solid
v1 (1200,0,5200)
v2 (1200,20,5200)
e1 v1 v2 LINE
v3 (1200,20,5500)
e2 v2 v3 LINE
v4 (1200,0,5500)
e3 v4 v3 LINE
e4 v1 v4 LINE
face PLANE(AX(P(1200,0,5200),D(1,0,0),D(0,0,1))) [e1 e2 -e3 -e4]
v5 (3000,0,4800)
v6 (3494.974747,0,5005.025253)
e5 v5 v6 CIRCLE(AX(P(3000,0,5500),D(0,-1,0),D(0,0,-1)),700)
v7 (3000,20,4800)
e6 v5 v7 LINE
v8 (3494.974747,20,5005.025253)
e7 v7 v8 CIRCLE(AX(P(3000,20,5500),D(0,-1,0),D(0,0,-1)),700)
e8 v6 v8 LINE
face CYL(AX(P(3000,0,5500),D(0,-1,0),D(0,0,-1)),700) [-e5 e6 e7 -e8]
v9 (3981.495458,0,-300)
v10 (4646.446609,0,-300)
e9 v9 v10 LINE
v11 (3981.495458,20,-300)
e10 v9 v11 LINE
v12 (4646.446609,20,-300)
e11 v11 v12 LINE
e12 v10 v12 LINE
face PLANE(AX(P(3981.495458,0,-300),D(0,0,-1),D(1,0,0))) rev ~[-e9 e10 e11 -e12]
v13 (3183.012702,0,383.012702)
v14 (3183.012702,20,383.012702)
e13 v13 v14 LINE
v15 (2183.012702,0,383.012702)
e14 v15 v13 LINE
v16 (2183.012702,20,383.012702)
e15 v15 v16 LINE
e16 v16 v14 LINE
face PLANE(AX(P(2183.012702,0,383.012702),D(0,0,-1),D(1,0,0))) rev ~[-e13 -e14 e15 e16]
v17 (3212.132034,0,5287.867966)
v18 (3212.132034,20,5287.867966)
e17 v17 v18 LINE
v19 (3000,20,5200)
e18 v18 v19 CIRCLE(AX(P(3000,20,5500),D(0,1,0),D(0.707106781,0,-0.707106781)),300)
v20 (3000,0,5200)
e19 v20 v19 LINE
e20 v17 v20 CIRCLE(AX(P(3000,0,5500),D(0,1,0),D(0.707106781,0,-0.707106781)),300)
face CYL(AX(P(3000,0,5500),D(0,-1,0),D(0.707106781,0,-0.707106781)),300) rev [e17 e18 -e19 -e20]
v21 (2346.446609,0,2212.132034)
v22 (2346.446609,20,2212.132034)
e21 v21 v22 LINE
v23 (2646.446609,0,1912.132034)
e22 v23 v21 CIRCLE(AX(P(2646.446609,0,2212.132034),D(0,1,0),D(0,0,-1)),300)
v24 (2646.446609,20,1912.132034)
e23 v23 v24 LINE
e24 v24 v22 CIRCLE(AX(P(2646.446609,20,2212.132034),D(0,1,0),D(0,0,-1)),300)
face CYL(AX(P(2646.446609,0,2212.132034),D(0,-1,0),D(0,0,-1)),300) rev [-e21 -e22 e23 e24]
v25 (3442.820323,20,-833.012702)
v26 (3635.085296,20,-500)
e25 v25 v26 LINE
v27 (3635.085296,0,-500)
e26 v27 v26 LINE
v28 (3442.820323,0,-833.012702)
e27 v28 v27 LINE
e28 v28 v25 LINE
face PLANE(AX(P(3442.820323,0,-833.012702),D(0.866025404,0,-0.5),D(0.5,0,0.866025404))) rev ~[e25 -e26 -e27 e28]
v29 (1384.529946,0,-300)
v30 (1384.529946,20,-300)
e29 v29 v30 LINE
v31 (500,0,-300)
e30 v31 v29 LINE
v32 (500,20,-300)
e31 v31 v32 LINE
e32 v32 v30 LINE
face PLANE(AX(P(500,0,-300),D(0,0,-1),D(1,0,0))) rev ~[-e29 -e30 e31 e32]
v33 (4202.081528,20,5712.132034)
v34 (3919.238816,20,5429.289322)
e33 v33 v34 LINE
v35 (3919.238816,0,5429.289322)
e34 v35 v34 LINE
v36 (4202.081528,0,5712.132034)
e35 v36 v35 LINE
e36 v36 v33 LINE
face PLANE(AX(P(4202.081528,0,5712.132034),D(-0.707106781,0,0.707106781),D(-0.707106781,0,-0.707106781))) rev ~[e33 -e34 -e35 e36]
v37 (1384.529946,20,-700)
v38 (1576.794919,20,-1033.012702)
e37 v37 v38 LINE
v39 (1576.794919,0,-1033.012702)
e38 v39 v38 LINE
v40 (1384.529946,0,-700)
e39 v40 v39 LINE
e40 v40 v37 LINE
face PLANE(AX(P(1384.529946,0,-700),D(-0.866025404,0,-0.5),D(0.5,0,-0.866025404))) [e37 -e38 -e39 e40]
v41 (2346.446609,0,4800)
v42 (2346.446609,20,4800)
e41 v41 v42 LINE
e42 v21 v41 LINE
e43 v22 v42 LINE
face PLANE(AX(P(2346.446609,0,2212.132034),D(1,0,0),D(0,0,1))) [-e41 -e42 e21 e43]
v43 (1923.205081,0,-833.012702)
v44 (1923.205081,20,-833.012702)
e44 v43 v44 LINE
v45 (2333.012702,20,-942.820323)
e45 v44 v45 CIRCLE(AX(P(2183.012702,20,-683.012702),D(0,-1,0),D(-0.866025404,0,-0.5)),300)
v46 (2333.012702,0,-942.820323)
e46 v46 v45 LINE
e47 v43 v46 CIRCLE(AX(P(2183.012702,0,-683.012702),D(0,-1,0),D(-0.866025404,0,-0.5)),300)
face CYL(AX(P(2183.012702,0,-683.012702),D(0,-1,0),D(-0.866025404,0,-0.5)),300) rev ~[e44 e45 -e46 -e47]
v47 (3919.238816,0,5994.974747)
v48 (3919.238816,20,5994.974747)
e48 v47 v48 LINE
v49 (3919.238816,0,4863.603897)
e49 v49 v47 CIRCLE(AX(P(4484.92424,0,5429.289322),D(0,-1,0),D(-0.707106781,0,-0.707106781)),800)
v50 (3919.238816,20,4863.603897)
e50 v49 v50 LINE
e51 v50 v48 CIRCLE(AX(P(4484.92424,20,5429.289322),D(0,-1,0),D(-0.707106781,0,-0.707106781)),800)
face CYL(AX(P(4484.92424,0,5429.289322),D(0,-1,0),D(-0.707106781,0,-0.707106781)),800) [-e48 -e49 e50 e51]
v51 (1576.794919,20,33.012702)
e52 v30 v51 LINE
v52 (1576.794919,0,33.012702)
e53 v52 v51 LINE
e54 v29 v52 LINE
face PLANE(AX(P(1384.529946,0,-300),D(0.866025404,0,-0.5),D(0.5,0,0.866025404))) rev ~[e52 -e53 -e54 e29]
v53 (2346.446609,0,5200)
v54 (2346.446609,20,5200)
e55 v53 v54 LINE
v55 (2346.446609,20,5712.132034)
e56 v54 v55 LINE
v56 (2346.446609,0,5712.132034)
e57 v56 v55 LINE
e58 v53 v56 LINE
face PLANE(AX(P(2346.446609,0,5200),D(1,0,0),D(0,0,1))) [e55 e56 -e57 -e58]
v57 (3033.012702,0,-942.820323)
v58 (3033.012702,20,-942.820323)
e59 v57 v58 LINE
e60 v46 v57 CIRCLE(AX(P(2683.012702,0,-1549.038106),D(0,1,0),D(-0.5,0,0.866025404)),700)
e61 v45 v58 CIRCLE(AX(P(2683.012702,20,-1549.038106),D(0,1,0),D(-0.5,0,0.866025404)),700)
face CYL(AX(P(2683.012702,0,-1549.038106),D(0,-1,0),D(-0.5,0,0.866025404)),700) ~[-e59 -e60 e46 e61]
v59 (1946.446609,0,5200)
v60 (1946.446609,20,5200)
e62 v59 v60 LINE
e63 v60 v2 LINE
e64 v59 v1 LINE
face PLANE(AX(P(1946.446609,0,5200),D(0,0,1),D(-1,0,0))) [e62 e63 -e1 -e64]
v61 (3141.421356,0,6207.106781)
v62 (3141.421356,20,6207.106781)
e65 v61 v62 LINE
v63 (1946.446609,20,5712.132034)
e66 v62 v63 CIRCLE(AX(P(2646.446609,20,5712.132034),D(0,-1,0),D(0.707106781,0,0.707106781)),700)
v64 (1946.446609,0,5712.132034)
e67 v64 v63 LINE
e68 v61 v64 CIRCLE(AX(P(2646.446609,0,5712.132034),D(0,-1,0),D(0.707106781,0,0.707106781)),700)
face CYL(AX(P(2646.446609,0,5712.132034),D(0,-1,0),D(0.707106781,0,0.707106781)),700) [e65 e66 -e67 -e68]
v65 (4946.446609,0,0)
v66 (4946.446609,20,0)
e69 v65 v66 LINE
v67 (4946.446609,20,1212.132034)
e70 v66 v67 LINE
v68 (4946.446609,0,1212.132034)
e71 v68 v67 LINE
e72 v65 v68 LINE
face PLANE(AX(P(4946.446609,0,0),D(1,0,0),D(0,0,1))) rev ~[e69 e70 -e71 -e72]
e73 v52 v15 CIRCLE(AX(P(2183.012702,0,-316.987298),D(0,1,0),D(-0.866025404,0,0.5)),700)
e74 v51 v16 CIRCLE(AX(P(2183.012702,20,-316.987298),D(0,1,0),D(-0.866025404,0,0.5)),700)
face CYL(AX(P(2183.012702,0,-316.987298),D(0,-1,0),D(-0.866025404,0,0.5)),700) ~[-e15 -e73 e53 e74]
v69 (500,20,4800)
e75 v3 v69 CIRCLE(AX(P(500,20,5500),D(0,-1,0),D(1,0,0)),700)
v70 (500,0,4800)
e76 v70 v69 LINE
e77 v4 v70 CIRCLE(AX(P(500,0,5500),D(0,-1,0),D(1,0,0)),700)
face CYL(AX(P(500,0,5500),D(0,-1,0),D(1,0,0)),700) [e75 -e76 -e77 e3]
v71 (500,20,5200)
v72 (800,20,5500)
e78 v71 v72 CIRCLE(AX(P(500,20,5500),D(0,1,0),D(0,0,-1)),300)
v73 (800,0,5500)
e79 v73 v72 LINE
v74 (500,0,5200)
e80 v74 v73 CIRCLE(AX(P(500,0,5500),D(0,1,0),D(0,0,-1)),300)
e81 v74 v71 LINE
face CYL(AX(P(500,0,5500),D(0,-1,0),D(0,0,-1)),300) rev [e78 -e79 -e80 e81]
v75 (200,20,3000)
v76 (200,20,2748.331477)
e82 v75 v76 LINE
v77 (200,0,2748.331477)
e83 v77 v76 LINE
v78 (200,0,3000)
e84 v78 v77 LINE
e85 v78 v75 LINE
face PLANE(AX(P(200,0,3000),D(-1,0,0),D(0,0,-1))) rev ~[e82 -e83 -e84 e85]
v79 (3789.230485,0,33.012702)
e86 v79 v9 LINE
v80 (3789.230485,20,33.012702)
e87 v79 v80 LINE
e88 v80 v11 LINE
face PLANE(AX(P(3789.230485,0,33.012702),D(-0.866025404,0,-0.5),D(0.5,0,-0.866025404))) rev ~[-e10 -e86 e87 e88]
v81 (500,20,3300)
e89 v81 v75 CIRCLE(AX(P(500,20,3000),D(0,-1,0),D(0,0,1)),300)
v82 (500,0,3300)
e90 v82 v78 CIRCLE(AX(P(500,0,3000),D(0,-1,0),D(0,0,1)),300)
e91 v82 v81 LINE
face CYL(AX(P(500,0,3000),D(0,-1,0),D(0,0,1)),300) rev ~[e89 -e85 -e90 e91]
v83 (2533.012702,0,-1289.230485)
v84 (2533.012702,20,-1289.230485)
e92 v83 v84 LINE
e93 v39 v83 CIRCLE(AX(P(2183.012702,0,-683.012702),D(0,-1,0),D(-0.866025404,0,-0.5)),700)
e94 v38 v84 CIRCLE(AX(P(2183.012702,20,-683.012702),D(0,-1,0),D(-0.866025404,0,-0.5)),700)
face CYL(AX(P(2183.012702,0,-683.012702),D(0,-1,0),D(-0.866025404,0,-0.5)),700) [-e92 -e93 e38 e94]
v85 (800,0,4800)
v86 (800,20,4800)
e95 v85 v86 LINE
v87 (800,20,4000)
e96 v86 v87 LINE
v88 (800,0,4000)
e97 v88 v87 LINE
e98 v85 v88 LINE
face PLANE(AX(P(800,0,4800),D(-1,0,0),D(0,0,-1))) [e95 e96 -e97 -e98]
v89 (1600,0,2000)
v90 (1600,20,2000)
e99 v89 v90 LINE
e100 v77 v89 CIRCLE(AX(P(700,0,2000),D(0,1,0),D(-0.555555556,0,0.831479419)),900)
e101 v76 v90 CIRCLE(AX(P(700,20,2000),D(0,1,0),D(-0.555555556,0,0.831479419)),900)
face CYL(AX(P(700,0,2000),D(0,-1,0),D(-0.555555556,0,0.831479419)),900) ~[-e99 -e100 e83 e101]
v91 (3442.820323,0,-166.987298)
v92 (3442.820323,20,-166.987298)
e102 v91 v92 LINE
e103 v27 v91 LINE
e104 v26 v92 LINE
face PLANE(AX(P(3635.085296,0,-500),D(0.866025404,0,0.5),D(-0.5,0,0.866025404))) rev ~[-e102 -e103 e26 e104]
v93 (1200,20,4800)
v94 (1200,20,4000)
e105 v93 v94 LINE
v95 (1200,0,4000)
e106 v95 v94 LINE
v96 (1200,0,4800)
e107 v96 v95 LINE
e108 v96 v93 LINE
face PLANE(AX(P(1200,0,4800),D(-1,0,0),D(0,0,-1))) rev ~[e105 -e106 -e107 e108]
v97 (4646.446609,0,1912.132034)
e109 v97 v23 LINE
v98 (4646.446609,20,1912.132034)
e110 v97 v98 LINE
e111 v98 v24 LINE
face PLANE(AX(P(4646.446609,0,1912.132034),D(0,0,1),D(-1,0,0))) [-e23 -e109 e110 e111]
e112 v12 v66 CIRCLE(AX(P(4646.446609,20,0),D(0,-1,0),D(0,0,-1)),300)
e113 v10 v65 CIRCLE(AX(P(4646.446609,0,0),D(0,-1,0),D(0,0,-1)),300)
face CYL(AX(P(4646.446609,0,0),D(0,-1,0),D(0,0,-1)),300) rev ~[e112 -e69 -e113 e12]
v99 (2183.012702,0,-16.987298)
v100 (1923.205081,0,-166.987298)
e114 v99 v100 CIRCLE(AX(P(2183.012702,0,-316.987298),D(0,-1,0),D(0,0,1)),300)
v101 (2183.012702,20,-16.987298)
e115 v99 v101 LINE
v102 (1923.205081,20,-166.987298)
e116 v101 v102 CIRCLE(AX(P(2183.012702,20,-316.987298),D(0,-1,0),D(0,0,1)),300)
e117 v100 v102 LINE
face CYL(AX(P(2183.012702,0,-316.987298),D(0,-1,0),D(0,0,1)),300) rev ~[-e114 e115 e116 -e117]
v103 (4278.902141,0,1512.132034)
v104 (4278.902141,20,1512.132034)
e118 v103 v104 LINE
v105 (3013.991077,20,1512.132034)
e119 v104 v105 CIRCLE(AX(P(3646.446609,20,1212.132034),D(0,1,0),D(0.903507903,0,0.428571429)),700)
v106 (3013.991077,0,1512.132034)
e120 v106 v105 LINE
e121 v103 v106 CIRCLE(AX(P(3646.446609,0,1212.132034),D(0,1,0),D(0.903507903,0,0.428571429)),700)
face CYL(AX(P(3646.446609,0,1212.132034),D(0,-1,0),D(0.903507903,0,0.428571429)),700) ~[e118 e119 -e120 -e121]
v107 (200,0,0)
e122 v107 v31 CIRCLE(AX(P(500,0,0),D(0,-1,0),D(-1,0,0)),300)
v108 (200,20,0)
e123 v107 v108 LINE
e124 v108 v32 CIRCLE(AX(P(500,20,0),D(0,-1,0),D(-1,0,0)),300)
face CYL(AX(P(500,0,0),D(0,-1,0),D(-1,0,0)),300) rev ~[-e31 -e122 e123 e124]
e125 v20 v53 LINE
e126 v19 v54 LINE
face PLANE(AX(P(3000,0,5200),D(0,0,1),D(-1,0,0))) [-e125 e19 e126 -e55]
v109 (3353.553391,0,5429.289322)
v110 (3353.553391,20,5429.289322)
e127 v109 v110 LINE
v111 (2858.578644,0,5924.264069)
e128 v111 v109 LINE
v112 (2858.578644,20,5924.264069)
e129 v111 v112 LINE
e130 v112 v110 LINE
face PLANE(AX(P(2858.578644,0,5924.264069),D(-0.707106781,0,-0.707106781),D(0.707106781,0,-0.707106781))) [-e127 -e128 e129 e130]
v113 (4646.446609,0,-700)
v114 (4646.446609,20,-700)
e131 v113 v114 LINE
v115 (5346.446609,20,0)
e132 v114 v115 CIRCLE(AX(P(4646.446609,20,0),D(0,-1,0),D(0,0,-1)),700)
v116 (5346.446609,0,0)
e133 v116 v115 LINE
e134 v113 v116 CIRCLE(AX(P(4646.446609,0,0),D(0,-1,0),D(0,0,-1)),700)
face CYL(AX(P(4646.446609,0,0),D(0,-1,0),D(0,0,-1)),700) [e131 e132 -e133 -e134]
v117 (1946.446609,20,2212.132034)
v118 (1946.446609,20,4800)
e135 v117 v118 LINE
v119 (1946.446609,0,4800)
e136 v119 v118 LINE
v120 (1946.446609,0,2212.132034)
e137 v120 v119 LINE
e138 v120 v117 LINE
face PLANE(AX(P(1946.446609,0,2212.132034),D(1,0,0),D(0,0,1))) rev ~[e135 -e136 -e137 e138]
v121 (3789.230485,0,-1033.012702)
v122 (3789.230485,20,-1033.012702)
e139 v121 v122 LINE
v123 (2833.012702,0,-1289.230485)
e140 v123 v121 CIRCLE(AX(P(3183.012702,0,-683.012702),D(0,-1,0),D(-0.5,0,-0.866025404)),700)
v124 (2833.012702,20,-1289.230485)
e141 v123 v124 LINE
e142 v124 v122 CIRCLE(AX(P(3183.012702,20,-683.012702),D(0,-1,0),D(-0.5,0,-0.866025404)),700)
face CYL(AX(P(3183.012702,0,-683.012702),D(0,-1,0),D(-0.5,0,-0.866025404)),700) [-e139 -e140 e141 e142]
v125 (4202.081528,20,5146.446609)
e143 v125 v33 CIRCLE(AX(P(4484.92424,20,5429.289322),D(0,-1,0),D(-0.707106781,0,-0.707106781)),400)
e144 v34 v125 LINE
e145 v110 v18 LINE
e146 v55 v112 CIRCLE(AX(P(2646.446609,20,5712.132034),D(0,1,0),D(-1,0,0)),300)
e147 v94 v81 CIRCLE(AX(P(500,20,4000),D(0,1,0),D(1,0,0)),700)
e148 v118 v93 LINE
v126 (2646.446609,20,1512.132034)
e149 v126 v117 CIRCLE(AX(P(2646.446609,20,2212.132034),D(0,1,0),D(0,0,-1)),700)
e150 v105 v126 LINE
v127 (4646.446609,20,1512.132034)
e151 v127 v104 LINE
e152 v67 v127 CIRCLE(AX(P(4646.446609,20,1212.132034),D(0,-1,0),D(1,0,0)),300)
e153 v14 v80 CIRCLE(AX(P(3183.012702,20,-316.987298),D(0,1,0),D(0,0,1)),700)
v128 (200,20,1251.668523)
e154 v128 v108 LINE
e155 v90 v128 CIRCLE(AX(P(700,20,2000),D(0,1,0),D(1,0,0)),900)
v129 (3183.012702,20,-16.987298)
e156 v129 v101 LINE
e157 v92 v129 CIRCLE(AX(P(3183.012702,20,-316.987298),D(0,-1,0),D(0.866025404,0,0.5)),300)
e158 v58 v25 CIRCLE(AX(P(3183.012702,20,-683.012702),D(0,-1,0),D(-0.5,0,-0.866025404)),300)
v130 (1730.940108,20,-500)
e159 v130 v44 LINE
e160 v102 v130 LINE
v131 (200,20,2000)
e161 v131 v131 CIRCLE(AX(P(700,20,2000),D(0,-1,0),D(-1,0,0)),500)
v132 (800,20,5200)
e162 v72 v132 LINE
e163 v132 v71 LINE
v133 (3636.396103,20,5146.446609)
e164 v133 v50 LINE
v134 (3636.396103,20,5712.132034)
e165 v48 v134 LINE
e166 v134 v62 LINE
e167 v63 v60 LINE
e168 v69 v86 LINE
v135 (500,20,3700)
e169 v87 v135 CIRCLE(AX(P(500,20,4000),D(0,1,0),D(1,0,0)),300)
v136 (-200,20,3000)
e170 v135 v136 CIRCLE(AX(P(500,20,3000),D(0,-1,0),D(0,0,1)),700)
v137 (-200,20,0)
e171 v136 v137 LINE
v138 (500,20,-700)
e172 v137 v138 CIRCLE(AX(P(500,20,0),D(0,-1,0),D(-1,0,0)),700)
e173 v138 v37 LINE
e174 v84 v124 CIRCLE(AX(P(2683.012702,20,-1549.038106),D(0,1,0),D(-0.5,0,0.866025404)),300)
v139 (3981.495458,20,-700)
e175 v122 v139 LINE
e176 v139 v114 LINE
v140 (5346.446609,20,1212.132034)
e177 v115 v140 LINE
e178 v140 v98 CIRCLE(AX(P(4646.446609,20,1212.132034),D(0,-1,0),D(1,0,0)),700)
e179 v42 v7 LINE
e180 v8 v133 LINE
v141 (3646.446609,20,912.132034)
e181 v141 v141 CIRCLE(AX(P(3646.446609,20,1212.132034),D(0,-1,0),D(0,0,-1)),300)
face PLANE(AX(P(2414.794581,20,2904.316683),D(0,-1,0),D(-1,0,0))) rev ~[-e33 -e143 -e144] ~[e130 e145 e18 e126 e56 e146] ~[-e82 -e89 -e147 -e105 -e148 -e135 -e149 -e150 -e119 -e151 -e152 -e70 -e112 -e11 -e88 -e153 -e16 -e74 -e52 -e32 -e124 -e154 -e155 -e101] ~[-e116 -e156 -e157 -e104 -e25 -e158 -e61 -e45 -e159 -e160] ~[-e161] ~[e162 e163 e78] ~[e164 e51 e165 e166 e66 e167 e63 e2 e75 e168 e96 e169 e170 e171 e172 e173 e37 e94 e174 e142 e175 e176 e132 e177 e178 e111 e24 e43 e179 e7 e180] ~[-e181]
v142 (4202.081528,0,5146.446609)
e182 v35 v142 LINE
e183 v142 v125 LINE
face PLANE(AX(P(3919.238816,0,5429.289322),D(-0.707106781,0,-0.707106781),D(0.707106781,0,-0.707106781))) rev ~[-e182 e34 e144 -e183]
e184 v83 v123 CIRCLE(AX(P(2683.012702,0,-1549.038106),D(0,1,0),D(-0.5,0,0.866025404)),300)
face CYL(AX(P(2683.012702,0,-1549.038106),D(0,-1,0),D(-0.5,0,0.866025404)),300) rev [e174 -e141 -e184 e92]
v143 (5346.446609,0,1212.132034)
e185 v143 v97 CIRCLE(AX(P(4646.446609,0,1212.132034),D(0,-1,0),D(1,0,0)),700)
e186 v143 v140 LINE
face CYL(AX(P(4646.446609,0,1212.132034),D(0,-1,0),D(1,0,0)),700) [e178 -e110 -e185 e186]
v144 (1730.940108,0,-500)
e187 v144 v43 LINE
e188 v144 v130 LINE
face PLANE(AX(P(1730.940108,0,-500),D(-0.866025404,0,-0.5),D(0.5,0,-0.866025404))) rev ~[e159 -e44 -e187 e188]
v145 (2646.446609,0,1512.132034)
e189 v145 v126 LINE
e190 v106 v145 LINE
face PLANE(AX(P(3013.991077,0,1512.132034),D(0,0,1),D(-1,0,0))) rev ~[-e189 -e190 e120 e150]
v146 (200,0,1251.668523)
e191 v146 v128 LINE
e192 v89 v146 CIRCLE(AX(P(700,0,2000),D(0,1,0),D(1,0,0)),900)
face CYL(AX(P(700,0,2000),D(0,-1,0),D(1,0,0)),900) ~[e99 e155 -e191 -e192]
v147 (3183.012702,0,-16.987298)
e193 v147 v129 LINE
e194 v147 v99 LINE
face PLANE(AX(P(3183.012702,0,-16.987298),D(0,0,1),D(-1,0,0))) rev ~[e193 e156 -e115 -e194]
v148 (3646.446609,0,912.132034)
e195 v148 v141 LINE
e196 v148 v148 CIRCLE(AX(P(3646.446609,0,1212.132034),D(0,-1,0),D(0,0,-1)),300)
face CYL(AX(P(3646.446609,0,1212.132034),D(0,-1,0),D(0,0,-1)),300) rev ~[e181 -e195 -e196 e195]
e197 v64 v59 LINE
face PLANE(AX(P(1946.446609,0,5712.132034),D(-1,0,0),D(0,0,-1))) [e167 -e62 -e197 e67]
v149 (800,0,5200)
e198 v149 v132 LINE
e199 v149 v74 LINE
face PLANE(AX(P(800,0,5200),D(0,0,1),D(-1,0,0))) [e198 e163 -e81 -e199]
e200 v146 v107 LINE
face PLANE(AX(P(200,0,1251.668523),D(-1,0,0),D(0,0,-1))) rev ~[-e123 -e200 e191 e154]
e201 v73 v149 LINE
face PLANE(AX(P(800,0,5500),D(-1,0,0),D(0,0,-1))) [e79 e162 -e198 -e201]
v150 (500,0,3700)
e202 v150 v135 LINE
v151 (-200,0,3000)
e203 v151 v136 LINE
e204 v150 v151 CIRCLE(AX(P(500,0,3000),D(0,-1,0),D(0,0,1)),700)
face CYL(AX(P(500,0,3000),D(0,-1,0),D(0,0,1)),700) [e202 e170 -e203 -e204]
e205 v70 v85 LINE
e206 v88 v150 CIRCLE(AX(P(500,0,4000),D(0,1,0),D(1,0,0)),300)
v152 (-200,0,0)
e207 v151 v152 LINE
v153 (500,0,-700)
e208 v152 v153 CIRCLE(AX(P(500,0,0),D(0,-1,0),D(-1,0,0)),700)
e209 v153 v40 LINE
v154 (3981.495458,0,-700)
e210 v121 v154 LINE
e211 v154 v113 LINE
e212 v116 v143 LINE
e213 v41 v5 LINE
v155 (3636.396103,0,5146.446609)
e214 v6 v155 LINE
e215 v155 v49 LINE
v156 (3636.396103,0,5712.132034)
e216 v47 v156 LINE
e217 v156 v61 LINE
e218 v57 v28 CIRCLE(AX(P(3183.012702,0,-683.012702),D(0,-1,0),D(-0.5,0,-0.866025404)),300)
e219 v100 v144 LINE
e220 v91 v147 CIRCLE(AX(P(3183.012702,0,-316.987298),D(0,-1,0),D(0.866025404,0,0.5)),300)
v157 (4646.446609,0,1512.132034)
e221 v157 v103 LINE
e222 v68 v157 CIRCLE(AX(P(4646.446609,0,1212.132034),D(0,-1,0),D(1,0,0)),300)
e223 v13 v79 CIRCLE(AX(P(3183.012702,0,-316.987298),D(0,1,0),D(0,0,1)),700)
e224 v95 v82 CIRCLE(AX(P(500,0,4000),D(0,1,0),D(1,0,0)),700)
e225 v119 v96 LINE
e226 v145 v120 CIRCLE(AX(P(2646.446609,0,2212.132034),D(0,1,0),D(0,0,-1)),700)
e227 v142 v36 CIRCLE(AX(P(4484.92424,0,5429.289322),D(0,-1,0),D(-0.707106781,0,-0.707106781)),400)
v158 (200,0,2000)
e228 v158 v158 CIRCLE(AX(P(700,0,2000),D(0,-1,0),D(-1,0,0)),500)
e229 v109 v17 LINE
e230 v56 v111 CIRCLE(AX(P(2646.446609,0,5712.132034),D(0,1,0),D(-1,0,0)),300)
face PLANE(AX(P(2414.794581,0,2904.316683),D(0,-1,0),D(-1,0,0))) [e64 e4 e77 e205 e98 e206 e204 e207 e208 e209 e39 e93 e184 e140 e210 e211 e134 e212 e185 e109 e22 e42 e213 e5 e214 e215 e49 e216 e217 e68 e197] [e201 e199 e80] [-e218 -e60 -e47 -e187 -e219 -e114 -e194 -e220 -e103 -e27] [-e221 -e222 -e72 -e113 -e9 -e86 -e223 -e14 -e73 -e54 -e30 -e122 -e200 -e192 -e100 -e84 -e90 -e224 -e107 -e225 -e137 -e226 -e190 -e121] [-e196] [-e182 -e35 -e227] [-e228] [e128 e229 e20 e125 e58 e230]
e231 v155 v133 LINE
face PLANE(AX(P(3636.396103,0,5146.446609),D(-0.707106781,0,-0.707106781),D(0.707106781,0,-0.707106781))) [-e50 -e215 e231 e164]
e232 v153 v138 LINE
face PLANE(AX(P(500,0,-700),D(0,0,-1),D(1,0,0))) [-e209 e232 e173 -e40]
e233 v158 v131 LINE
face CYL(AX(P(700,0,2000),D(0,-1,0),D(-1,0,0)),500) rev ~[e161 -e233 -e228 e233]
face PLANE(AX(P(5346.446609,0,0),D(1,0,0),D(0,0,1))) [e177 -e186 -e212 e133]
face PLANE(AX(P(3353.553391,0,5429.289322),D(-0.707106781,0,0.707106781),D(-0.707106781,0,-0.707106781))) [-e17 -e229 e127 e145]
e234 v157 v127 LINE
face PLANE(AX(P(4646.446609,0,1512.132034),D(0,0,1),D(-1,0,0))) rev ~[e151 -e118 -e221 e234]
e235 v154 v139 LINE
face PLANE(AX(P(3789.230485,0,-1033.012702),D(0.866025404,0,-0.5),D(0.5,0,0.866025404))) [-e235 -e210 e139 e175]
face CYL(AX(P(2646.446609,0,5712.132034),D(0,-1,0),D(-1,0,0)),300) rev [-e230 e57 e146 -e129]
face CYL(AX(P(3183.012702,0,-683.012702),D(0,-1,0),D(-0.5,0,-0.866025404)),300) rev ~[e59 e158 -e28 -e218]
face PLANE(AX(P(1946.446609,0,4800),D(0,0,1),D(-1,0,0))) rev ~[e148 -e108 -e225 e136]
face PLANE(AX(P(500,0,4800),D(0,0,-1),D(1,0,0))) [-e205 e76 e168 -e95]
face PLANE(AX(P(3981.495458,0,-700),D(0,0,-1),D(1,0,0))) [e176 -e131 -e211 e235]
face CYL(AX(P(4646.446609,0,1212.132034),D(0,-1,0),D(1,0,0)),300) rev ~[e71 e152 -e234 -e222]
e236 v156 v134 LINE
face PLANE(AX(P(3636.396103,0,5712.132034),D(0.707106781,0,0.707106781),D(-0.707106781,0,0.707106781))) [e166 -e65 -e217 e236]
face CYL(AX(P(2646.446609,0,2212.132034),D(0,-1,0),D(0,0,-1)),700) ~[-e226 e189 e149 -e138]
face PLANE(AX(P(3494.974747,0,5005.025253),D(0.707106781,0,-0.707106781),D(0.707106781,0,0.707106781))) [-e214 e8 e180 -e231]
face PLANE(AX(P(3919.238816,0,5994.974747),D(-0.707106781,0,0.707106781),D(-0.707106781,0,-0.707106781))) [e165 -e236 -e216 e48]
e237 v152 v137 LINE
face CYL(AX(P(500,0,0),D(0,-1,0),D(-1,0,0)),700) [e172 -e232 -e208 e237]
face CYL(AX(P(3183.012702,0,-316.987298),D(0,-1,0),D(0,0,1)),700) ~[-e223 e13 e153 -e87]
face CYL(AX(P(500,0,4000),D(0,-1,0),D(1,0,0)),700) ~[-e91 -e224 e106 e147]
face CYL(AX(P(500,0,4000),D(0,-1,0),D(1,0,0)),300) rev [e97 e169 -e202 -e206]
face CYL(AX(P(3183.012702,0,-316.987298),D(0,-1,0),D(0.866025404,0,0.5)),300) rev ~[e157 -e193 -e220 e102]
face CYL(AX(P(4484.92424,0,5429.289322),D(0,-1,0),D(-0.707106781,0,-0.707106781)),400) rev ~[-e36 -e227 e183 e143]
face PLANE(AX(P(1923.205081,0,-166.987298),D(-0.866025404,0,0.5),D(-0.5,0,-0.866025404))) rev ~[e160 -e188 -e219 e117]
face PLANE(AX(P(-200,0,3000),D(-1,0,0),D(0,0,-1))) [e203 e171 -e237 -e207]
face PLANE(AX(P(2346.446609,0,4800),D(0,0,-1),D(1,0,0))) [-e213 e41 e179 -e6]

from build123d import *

# Parameters (mm, degrees)
EXTRUDE_1_DEPTH = 20


with BuildPart() as part:
    # 草图1 → 凸台-拉伸1 (new body)
    with BuildSketch(Plane(origin=(0, 0, 0), x_dir=(1, 0, 0), z_dir=(0, 1, 0))):
        with BuildLine():
            Line((500, 700), (1384.529946162, 700))
            Line((1384.529946162, 700), (1576.794919243, 1033.012701892))
            ThreePointArc((1576.794919243, 1033.012701892), (2001.83937032, 1359.160780295), (2533.012701892, 1289.230484541))
            ThreePointArc((2533.012701892, 1289.230484541), (2683.012701892, 1249.038105677), (2833.012701892, 1289.230484541))
            ThreePointArc((2833.012701892, 1289.230484541), (3364.186033464, 1359.160780295), (3789.230484541, 1033.012701892))
            Line((3789.230484541, 1033.012701892), (3981.495457623, 700))
            Line((3981.495457623, 700), (4646.446609407, 700))
            ThreePointArc((4646.446609407, 700), (5141.421356237, 494.974746831), (5346.446609407, 0))
            Line((5346.446609407, 0), (5346.446609407, -1212.132034356))
            ThreePointArc((5346.446609407, -1212.132034356), (5141.421356237, -1707.106781187), (4646.446609407, -1912.132034356))
            Line((4646.446609407, -1912.132034356), (3646.446609407, -1912.132034356))
            Line((3646.446609407, -1912.132034356), (2646.446609407, -1912.132034356))
            ThreePointArc((2646.446609407, -1912.132034356), (2434.314575051, -2000), (2346.446609407, -2212.132034356))
            Line((2346.446609407, -2212.132034356), (2346.446609407, -4800))
            Line((2346.446609407, -4800), (3000, -4800))
            ThreePointArc((3000, -4800), (3267.878402656, -4853.284327242), (3494.974746831, -5005.025253169))
            Line((3494.974746831, -5005.025253169), (3636.396103068, -5146.446609407))
            Line((3636.396103068, -5146.446609407), (3919.238815543, -4863.603896932))
            ThreePointArc((3919.238815543, -4863.603896932), (5284.924240492, -5429.289321881), (3919.238815543, -5994.974746831))
            Line((3919.238815543, -5994.974746831), (3636.396103068, -5712.132034356))
            Line((3636.396103068, -5712.132034356), (3141.421356237, -6207.106781187))
            ThreePointArc((3141.421356237, -6207.106781187), (2378.568206751, -6358.847707114), (1946.446609407, -5712.132034356))
            Line((1946.446609407, -5712.132034356), (1946.446609407, -5200))
            Line((1946.446609407, -5200), (1200, -5200))
            Line((1200, -5200), (1200, -5500))
            ThreePointArc((1200, -5500), (5.025253169, -5994.974746831), (500, -4800))
            Line((500, -4800), (800, -4800))
            Line((800, -4800), (800, -4000))
            ThreePointArc((800, -4000), (712.132034356, -3787.867965644), (500, -3700))
            ThreePointArc((500, -3700), (5.025253169, -3494.974746831), (-200, -3000))
            Line((-200, -3000), (-200, -2000))
            Line((-200, -2000), (-200, 0))
            ThreePointArc((-200, 0), (5.025253169, 494.974746831), (500, 700))
        make_face()
        with BuildLine():
            Line((1730.940107676, 500), (1923.205080757, 833.012701892))
            ThreePointArc((1923.205080757, 833.012701892), (2105.366988361, 972.790449779), (2333.012701892, 942.820323028))
            ThreePointArc((2333.012701892, 942.820323028), (2683.012701892, 849.038105677), (3033.012701892, 942.820323028))
            ThreePointArc((3033.012701892, 942.820323028), (3260.658415423, 972.790449779), (3442.820323028, 833.012701892))
            Line((3442.820323028, 833.012701892), (3635.085296109, 500))
            Line((3635.085296109, 500), (3442.820323028, 166.987298108))
            ThreePointArc((3442.820323028, 166.987298108), (3333.012701893, 57.179676972), (3183.012701893, 16.987298108))
            Line((3183.012701893, 16.987298108), (2183.012701892, 16.987298108))
            ThreePointArc((2183.012701892, 16.987298108), (2033.012701892, 57.179676972), (1923.205080757, 166.987298108))
            Line((1923.205080757, 166.987298108), (1730.940107676, 500))
        make_face(mode=Mode.SUBTRACT)
        with BuildLine():
            Line((1384.529946162, 300), (1576.794919243, -33.012701892))
            ThreePointArc((1576.794919243, -33.012701892), (1833.012701892, -289.230484541), (2183.012701892, -383.012701892))
            Line((2183.012701892, -383.012701892), (3183.012701893, -383.012701892))
            ThreePointArc((3183.012701893, -383.012701892), (3533.012701893, -289.230484541), (3789.230484542, -33.012701892))
            Line((3789.230484542, -33.012701892), (3981.495457623, 300))
            Line((3981.495457623, 300), (4646.446609407, 300))
            ThreePointArc((4646.446609407, 300), (4858.578643763, 212.132034356), (4946.446609407, 0))
            Line((4946.446609407, 0), (4946.446609407, -1212.132034356))
            ThreePointArc((4946.446609407, -1212.132034356), (4858.578643763, -1424.264068712), (4646.446609407, -1512.132034356))
            Line((4646.446609407, -1512.132034356), (4278.90214144, -1512.132034356))
            ThreePointArc((4278.90214144, -1512.132034356), (4238.054587717, -837.966295679), (3646.446609407, -512.132034356))
            ThreePointArc((3646.446609407, -512.132034356), (3054.838631097, -837.966295679), (3013.991077373, -1512.132034356))
            Line((3013.991077373, -1512.132034356), (2646.446609407, -1512.132034356))
            ThreePointArc((2646.446609407, -1512.132034356), (2151.471862576, -1717.157287525), (1946.446609407, -2212.132034356))
            Line((1946.446609407, -2212.132034356), (1946.446609407, -4800))
            Line((1946.446609407, -4800), (1200, -4800))
            Line((1200, -4800), (1200, -4000))
            ThreePointArc((1200, -4000), (994.974746831, -3505.025253169), (500, -3300))
            ThreePointArc((500, -3300), (287.867965644, -3212.132034356), (200, -3000))
            Line((200, -3000), (200, -2748.331477355))
            ThreePointArc((200, -2748.331477355), (1124.264068712, -2793.725393319), (1600, -2000))
            ThreePointArc((1600, -2000), (1124.264068712, -1206.274606681), (200, -1251.668522645))
            Line((200, -1251.668522645), (200, 0))
            ThreePointArc((200, 0), (287.867965644, 212.132034356), (500, 300))
            Line((500, 300), (1384.529946162, 300))
        make_face(mode=Mode.SUBTRACT)
        with BuildLine():
            Line((2858.578643763, -5924.264068712), (3353.553390593, -5429.289321881))
            Line((3353.553390593, -5429.289321881), (3212.132034356, -5287.867965644))
            ThreePointArc((3212.132034356, -5287.867965644), (3114.80502971, -5222.836140247), (3000, -5200))
            Line((3000, -5200), (2346.446609407, -5200))
            Line((2346.446609407, -5200), (2346.446609407, -5712.132034356))
            ThreePointArc((2346.446609407, -5712.132034356), (2531.641579697, -5989.295894109), (2858.578643763, -5924.264068712))
        make_face(mode=Mode.SUBTRACT)
        with BuildLine():
            Line((4202.081528017, -5712.132034356), (3919.238815543, -5429.289321881))
            Line((3919.238815543, -5429.289321881), (4202.081528017, -5146.446609407))
            ThreePointArc((4202.081528017, -5146.446609407), (4884.924240492, -5429.289321881), (4202.081528017, -5712.132034356))
        make_face(mode=Mode.SUBTRACT)
        with BuildLine():
            Line((800, -5500), (800, -5200))
            Line((800, -5200), (500, -5200))
            ThreePointArc((500, -5200), (287.867965644, -5712.132034356), (800, -5500))
        make_face(mode=Mode.SUBTRACT)
        with BuildLine():
            ThreePointArc((3646.446609407, -1512.132034356), (3346.446609407, -1212.132034356), (3646.446609407, -912.132034356))
            ThreePointArc((3646.446609407, -912.132034356), (3946.446609407, -1212.132034356), (3646.446609407, -1512.132034356))
        make_face(mode=Mode.SUBTRACT)
        with BuildLine():
            ThreePointArc((1200, -2000), (700, -2500), (200, -2000))
            ThreePointArc((200, -2000), (700, -1500), (1200, -2000))
        make_face(mode=Mode.SUBTRACT)
    extrude(amount=EXTRUDE_1_DEPTH)


solid = part.part
